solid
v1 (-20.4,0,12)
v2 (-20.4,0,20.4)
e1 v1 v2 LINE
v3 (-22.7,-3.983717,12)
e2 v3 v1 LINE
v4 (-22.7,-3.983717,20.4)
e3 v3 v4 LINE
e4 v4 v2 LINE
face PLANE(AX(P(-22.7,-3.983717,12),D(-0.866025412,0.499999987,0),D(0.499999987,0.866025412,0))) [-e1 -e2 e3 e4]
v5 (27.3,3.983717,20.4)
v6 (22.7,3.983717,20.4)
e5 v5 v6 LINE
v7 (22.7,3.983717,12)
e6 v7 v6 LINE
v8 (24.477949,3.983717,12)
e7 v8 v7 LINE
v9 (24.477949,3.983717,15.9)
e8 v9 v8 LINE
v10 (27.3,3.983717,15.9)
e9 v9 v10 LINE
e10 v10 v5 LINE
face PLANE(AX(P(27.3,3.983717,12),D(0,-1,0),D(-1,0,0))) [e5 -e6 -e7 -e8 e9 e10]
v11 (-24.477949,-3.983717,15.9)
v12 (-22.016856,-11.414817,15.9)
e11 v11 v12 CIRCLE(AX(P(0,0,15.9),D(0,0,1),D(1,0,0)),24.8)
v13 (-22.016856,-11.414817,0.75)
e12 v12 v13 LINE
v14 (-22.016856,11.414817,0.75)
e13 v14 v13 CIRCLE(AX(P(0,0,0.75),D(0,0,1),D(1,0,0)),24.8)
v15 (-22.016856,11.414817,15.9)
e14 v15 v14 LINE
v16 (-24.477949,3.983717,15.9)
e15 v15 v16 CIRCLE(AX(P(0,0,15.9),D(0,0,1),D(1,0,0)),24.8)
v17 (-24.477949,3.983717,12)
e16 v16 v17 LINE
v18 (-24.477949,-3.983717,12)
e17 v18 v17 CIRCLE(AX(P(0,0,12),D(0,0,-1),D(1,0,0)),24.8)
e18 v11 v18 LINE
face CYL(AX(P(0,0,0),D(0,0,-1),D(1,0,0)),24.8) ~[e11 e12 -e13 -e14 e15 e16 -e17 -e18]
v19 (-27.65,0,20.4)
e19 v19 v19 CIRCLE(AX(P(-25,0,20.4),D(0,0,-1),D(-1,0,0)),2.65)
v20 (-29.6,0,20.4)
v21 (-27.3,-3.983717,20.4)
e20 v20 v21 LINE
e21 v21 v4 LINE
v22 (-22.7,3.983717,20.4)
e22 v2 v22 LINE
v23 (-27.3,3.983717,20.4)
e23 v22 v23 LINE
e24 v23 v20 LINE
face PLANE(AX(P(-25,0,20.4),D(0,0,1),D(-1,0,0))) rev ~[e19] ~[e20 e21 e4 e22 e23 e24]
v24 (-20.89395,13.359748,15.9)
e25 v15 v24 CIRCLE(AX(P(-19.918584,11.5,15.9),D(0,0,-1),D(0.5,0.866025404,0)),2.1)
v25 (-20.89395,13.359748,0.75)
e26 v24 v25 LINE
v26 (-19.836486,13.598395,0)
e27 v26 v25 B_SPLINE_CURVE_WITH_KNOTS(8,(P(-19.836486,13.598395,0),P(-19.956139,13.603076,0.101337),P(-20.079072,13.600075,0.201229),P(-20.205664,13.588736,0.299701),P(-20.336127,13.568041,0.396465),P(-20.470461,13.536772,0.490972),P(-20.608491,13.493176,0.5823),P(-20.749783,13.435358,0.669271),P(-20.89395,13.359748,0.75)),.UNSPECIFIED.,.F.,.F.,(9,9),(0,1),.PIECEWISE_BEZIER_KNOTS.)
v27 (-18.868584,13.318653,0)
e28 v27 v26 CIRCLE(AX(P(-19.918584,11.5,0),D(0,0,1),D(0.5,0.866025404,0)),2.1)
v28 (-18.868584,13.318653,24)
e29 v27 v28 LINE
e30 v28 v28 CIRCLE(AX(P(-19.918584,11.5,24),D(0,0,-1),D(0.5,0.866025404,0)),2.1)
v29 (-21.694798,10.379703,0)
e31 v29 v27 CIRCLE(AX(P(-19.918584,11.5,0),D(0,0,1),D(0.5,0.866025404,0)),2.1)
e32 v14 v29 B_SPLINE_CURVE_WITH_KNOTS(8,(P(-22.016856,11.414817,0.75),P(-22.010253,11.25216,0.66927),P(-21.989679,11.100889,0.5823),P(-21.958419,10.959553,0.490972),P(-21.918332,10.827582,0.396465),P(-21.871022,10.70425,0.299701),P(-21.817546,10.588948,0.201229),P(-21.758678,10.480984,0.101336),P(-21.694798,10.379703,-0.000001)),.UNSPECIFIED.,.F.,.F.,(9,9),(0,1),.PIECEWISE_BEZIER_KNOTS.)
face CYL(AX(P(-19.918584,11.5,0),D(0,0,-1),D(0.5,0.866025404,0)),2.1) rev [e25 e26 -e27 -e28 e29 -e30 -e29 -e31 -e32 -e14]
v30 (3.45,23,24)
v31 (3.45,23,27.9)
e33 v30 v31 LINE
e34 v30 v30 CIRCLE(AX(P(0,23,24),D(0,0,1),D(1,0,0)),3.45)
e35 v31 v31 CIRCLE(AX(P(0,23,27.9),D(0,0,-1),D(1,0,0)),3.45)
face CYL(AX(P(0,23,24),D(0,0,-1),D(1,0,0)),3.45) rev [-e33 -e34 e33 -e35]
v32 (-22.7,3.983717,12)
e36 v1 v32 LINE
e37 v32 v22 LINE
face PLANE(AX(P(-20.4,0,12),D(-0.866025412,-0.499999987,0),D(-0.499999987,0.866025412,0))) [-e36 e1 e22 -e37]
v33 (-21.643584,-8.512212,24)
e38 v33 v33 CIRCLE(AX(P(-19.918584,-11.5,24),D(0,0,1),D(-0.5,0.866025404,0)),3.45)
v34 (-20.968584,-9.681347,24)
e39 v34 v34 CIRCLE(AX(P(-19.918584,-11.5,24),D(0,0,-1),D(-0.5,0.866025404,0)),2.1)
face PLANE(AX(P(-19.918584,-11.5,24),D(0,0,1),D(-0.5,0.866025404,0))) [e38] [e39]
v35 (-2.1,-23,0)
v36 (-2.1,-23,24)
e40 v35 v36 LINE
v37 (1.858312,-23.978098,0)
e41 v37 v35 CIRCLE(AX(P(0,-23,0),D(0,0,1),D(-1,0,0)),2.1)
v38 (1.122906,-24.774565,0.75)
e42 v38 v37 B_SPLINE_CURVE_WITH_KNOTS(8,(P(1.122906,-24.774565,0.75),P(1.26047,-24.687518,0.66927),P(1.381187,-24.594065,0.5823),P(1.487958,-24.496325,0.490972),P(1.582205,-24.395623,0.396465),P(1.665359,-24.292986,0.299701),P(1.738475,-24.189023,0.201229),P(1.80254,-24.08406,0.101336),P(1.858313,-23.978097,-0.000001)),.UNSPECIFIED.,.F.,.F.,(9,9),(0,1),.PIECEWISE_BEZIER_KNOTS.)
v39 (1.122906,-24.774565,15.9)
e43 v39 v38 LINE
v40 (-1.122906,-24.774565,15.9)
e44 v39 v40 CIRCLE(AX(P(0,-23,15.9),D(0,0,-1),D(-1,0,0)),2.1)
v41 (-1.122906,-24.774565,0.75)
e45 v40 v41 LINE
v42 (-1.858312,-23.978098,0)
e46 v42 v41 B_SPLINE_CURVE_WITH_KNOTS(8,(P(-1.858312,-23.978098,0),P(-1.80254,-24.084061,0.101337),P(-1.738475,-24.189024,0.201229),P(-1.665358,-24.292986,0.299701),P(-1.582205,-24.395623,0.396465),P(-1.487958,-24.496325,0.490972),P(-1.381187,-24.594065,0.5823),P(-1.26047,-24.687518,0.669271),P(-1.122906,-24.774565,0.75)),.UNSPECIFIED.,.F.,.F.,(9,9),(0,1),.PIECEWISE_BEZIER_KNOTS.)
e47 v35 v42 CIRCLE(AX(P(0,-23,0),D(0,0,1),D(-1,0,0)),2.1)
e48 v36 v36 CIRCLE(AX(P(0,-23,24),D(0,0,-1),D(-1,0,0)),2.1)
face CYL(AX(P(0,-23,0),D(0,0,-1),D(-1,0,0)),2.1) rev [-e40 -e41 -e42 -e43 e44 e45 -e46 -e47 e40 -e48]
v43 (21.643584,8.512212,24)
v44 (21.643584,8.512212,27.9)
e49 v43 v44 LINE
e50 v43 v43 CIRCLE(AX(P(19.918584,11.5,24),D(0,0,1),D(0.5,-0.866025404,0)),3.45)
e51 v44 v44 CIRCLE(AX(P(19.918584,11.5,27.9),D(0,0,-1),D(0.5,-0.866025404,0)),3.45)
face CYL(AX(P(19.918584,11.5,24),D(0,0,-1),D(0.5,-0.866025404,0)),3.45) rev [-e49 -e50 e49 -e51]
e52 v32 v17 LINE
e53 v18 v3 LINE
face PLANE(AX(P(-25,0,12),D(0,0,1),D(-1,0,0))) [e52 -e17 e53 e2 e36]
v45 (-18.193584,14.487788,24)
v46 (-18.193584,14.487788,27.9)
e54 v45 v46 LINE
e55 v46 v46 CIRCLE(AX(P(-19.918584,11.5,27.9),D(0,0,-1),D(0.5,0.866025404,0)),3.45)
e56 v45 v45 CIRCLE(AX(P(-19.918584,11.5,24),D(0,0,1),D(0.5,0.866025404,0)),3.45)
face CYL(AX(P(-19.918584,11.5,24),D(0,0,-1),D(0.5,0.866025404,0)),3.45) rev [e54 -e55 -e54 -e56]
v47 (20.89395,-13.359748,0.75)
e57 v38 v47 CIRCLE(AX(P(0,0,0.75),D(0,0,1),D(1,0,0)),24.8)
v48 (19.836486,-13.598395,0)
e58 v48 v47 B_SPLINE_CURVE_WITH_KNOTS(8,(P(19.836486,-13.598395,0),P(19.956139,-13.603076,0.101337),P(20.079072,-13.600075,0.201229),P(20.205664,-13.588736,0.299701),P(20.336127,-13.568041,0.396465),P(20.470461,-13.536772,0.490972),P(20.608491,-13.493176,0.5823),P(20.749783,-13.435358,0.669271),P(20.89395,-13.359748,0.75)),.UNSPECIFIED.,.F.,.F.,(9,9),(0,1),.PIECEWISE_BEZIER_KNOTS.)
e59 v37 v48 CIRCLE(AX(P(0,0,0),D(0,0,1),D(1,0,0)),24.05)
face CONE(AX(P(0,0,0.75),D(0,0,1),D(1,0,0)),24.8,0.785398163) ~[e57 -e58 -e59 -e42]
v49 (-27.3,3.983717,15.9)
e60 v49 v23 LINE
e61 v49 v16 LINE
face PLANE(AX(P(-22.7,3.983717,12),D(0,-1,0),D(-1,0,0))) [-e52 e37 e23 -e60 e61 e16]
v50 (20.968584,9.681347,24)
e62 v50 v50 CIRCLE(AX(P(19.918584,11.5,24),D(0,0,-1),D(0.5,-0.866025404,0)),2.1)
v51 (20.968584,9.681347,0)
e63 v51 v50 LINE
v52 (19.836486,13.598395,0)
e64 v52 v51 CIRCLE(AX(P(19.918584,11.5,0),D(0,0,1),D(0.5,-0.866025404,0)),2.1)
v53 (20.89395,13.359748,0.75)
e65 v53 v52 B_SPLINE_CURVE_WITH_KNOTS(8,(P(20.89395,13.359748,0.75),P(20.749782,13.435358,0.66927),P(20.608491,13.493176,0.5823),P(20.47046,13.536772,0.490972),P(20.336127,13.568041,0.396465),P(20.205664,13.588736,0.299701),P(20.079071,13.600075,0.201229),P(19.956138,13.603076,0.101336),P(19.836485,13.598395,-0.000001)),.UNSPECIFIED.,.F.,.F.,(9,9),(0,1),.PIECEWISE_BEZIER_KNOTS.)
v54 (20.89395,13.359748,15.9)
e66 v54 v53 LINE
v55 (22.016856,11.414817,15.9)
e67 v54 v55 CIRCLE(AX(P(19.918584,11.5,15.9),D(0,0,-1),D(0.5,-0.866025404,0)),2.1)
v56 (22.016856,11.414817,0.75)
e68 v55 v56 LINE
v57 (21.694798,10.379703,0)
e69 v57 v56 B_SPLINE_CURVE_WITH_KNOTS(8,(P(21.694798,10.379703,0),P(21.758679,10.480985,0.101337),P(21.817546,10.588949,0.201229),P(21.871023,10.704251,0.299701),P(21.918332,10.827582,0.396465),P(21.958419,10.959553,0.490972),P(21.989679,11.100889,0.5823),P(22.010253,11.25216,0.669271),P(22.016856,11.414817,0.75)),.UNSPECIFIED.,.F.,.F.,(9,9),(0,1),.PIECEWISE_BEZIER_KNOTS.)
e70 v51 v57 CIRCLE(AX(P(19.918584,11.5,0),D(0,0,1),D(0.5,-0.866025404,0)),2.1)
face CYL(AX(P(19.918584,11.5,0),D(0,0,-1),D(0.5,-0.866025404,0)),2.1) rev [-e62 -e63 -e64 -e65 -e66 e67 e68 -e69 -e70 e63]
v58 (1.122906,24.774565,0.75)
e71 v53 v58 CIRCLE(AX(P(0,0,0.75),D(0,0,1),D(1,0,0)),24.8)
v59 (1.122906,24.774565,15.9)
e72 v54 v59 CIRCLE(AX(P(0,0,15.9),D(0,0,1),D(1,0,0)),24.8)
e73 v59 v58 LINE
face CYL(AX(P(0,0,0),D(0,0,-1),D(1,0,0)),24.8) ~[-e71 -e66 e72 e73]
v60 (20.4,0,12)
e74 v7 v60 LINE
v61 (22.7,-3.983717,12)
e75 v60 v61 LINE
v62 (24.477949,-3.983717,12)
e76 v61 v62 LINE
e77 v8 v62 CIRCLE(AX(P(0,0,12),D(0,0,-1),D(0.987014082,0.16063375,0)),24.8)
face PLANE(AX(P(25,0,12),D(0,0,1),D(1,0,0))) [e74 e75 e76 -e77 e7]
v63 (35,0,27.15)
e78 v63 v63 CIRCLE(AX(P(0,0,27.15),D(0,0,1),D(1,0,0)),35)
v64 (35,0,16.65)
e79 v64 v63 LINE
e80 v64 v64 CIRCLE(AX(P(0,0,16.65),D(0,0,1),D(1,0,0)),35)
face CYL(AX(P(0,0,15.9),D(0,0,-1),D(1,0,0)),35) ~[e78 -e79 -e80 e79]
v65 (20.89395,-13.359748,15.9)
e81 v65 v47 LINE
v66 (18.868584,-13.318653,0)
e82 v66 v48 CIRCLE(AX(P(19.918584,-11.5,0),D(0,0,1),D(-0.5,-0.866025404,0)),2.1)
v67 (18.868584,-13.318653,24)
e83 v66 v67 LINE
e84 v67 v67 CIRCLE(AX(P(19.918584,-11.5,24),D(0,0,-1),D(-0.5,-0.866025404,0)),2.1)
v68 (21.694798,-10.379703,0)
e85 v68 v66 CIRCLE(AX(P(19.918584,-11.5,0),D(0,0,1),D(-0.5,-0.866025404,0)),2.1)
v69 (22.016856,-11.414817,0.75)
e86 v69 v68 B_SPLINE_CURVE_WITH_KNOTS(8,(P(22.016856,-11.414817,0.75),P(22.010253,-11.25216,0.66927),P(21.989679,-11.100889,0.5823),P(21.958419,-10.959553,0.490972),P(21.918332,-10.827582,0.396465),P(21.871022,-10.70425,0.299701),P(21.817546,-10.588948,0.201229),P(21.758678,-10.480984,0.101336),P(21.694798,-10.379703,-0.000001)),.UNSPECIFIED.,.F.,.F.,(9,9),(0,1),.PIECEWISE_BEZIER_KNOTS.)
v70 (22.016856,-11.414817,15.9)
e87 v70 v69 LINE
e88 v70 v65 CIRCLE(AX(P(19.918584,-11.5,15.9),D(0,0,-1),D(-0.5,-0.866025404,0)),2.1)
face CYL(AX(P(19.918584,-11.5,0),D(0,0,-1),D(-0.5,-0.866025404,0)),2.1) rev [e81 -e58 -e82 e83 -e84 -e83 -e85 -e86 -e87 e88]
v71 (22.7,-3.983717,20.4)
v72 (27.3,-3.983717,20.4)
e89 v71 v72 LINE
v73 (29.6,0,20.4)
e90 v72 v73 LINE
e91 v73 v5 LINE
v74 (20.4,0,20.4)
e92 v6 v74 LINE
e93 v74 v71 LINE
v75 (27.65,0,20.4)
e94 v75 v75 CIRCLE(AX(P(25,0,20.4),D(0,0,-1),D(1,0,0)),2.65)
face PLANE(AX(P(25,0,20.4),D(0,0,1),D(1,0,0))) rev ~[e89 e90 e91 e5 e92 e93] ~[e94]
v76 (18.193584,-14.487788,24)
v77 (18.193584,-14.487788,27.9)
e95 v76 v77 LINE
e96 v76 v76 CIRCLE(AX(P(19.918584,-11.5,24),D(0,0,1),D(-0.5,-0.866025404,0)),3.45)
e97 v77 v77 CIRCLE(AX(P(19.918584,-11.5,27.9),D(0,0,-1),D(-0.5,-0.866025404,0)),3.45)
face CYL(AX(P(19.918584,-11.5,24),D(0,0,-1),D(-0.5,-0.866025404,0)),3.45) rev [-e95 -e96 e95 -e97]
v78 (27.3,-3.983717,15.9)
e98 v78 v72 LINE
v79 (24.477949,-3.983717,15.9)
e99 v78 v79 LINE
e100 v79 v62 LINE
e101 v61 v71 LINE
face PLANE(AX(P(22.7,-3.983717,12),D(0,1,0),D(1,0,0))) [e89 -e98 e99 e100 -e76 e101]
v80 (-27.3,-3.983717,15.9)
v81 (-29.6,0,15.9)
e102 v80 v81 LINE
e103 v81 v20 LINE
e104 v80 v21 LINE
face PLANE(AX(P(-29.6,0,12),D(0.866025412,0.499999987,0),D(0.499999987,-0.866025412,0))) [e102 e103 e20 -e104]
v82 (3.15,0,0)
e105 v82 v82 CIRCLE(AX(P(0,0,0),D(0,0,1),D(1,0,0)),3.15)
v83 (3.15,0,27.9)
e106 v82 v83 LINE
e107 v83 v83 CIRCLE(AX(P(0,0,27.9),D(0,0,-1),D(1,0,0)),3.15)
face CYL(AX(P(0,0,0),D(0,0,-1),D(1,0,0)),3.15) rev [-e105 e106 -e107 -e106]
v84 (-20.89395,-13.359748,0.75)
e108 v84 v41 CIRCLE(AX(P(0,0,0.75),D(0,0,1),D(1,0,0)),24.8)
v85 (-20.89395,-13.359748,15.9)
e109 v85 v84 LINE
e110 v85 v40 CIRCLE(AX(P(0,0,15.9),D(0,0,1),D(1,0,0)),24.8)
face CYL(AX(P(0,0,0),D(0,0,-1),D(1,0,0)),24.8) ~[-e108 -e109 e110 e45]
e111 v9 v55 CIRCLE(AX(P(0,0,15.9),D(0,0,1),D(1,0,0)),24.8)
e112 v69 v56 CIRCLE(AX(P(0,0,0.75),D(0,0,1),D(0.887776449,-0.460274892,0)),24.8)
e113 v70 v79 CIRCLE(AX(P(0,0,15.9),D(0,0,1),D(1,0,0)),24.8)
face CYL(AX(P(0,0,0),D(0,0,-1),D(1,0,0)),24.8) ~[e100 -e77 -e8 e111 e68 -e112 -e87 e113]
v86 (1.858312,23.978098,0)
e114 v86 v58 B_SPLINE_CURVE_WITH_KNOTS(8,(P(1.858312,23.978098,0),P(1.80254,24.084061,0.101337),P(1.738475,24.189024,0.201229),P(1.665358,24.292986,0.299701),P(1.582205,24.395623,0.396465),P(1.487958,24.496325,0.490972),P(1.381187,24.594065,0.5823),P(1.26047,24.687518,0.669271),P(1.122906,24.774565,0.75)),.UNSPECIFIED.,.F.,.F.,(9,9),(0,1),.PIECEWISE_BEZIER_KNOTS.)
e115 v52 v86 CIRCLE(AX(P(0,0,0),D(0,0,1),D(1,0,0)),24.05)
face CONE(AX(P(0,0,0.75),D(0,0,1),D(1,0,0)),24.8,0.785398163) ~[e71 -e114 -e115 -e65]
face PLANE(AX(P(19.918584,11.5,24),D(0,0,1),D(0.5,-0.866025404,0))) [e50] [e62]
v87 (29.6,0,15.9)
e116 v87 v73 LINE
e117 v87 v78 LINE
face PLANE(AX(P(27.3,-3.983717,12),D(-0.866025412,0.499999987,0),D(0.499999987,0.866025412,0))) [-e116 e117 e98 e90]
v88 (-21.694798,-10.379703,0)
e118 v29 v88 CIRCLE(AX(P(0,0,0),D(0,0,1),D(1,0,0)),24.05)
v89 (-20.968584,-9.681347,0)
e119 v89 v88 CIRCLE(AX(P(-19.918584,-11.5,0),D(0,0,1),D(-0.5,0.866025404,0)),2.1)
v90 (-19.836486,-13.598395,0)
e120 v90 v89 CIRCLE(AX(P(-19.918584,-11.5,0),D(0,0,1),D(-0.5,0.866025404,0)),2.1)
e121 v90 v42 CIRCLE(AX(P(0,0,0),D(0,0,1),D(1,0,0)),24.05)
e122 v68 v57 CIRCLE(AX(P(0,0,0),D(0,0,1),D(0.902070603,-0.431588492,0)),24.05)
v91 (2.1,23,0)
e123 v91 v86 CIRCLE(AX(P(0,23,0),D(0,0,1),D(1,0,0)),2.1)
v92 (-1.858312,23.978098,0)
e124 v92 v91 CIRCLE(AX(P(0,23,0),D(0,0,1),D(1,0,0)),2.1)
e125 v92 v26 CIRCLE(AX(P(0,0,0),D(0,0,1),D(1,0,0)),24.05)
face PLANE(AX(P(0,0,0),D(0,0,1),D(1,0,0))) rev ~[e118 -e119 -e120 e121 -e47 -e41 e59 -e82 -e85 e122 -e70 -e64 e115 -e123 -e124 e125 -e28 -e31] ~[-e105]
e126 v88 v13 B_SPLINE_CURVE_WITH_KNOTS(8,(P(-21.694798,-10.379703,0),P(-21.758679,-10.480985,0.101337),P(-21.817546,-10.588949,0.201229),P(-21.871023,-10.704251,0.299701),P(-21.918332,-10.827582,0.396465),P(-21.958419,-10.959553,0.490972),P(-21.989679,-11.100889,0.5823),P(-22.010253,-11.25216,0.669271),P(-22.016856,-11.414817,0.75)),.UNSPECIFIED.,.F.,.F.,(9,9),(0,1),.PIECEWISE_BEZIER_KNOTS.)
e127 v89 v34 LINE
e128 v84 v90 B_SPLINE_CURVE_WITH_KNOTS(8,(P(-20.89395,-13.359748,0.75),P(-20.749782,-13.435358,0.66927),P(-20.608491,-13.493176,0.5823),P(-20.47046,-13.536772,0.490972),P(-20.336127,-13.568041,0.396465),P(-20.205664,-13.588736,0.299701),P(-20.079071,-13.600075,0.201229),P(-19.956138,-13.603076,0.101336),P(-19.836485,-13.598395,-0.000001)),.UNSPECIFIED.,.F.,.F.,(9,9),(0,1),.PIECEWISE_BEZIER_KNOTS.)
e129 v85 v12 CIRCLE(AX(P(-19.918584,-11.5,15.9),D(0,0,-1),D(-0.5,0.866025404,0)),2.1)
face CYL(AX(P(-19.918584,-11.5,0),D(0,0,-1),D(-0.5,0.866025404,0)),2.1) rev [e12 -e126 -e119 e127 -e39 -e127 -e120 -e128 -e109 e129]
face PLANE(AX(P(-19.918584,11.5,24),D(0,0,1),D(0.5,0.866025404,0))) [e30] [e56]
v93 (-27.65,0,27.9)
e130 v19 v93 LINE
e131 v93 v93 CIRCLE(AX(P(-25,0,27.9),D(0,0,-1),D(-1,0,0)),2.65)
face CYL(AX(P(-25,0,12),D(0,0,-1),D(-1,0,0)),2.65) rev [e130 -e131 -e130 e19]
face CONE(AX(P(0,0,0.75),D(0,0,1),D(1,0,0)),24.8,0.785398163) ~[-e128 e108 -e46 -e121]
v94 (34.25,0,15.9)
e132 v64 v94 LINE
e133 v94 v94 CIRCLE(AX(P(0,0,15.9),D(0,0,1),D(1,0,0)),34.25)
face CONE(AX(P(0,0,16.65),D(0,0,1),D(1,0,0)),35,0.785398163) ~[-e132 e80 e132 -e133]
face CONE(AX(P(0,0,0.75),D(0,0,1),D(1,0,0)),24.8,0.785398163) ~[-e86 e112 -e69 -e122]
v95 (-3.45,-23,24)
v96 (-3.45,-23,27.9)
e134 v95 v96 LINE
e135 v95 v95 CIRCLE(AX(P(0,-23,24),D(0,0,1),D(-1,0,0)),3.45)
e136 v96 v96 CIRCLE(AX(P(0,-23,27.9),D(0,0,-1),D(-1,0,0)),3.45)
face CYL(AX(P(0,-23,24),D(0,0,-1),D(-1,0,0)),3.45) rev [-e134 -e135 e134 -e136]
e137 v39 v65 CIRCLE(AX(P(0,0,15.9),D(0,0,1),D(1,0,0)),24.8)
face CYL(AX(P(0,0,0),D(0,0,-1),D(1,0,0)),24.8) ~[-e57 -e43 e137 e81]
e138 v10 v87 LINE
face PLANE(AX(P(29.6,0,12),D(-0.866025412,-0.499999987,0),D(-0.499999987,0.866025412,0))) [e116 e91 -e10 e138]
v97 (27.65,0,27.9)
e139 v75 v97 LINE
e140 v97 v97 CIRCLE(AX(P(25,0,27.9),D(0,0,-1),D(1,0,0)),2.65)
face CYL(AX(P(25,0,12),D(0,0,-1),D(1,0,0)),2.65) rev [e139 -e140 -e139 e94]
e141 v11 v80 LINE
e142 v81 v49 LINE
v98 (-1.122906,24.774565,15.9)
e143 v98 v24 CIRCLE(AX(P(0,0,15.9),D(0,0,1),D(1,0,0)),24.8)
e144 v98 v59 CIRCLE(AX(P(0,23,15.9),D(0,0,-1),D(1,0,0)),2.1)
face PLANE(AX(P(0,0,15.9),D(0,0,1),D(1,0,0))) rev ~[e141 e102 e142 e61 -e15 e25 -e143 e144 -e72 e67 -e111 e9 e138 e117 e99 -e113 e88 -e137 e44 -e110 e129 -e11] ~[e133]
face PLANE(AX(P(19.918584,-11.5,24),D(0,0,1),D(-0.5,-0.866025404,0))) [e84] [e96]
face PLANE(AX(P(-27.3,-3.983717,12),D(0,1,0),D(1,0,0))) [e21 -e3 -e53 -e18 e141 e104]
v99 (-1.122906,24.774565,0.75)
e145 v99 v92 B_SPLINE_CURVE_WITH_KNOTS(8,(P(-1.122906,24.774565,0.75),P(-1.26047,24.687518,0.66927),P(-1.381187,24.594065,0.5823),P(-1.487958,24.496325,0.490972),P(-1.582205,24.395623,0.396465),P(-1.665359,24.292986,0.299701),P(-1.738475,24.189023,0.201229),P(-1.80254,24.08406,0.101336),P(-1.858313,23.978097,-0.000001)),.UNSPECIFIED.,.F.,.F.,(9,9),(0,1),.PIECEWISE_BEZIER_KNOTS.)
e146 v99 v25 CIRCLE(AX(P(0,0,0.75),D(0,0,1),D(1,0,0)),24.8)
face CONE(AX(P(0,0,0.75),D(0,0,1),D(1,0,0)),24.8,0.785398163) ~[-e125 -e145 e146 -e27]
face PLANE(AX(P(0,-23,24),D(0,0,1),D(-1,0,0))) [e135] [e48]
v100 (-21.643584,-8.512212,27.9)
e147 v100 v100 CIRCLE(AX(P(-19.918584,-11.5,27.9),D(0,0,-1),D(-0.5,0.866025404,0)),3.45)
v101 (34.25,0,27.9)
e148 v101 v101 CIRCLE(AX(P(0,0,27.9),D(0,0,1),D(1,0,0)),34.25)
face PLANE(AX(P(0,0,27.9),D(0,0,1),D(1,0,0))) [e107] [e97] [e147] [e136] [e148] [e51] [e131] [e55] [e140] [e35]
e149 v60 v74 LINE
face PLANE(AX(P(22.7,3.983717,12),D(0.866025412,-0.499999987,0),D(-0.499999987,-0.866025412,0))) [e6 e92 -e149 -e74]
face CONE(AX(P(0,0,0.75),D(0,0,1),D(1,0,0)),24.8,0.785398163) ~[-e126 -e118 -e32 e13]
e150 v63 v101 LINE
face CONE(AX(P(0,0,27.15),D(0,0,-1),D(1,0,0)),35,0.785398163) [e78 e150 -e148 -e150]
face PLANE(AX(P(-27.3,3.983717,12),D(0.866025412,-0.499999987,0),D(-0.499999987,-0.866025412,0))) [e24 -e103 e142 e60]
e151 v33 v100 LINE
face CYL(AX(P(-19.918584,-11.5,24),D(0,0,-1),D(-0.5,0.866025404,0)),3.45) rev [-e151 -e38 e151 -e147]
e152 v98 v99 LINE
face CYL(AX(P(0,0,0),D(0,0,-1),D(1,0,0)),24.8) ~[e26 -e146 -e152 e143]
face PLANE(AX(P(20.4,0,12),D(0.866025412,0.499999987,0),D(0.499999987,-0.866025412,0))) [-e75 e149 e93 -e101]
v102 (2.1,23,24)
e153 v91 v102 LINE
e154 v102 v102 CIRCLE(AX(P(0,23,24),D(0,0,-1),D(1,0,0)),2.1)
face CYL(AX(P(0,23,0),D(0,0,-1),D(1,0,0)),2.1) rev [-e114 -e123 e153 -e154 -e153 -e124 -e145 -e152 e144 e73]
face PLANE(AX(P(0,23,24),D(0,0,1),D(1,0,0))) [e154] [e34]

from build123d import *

# Parameters (mm, degrees)
CYLINDER014005867_R                      = 3.45
CYLINDER014005867_DEPTH                  = 4.1
CYLINDER014005866_R                      = 2.1
CYLINDER014005866_DEPTH                  = 28
FUSION001089102007_PLACEMENT_ANGLE       = 120
FUSION001089102007002_PLACEMENT_ANGLE    = 120
FUSION001089102007003_PLACEMENT_ANGLE    = 180
FUSION001089102007004_PLACEMENT_ANGLE    = 240
FUSION001089102007005_PLACEMENT_ANGLE    = 60
CYLINDER014005868_R                      = 3.15
CYLINDER014005868_DEPTH                  = 28
PRISM002_DEPTH                           = 8.4
CYLINDER014005869_R                      = 2.65
CYLINDER014005869_DEPTH                  = 28
FUSION001089102007007001_PLACEMENT_ANGLE = 180
FUSION001089102007001_PLACEMENT_ANGLE    = 60
CYLINDER014005865_R                      = 35
CYLINDER014005865_DEPTH                  = 12
CYLINDER014005859_R                      = 24.8
CYLINDER014005859_DEPTH                  = 15.9
CHAMFER011_SIZE                          = 0.75


with BuildPart() as v_lec777:
    # Cylinder014005867 → Cylinder014005867 (new body)
    with BuildSketch(Plane(origin=(0, 23, 24), x_dir=(1, 0, 0), z_dir=(0, 0, 1))):
        Circle(CYLINDER014005867_R)
    extrude(amount=CYLINDER014005867_DEPTH)


with BuildPart() as m4inbus:
    # Cylinder014005866 → Cylinder014005866 (new body)
    with BuildSketch(Plane(origin=(0, 23, 0), x_dir=(1, 0, 0), z_dir=(0, 0, 1))):
        Circle(CYLINDER014005866_R)
    extrude(amount=CYLINDER014005866_DEPTH)

    # Fusion001089102007: union Válec777
    add(v_lec777.part)


with BuildPart() as m4inbus_1:
    # Fusion001089102007 placement: moved
    add(m4inbus.part.rotate(Axis((0, 0, 0), (0, 0, 1)), FUSION001089102007_PLACEMENT_ANGLE))


with BuildPart() as m4inbus002:
    # Fusion001089102007002 base: copy of M4Inbus
    add(m4inbus_1.part)


with BuildPart() as m4inbus002_1:
    # Fusion001089102007002 placement: moved
    add(m4inbus002.part.rotate(Axis((0, 0, 0), (0, 0, 1)), FUSION001089102007002_PLACEMENT_ANGLE))


with BuildPart() as m4inbus003:
    # Fusion001089102007003 base: copy of M4Inbus
    add(m4inbus_1.part)


with BuildPart() as m4inbus003_1:
    # Fusion001089102007003 placement: moved
    add(m4inbus003.part.rotate(Axis((0, 0, 0), (0, 0, 1)), FUSION001089102007003_PLACEMENT_ANGLE))


with BuildPart() as m4inbus004:
    # Fusion001089102007004 base: copy of M4Inbus
    add(m4inbus_1.part)


with BuildPart() as m4inbus004_1:
    # Fusion001089102007004 placement: moved
    add(m4inbus004.part.rotate(Axis((0, 0, 0), (0, 0, 1)), FUSION001089102007004_PLACEMENT_ANGLE))


with BuildPart() as m4inbus005:
    # Fusion001089102007005 base: copy of M4Inbus
    add(m4inbus_1.part)


with BuildPart() as m4inbus005_1:
    # Fusion001089102007005 placement: moved
    add(m4inbus005.part.rotate(Axis((0, 0, 0), (0, 0, -1)), FUSION001089102007005_PLACEMENT_ANGLE))


with BuildPart() as v_lec778:
    # Cylinder014005868 → Cylinder014005868 (new body)
    with BuildSketch(Plane.XY):
        Circle(CYLINDER014005868_R)
    extrude(amount=CYLINDER014005868_DEPTH)


with BuildPart() as m4x002:
    # prism002 → prism002 (new body)
    with BuildSketch(Plane(origin=(25, 0, 12), x_dir=(1, 0, 0), z_dir=(0, 0, 1))):
        Polygon((4.6, 0), (2.3, 3.983717), (-2.3, 3.983717), (-4.6, 0), (-2.3, -3.983717), (2.3, -3.983717), align=None)
    extrude(amount=PRISM002_DEPTH)


with BuildPart() as fusion001089102007007:
    # Cylinder014005869 → Cylinder014005869 (new body)
    with BuildSketch(Plane(origin=(25, 0, 12), x_dir=(1, 0, 0), z_dir=(0, 0, 1))):
        Circle(CYLINDER014005869_R)
    extrude(amount=CYLINDER014005869_DEPTH)

    # Fusion001089102007007: union M4X002
    add(m4x002.part)


with BuildPart() as fusion001089102007007001:
    # Fusion001089102007007001 base: copy of Fusion001089102007007
    add(fusion001089102007007.part)


with BuildPart() as fusion001089102007007001_1:
    # Fusion001089102007007001 placement: moved
    add(fusion001089102007007001.part.rotate(Axis((0, 0, 0), (0, 0, 1)), FUSION001089102007007001_PLACEMENT_ANGLE))


with BuildPart() as fusion001089102007006:
    # Fusion001089102007001 base: copy of M4Inbus
    add(m4inbus_1.part)


with BuildPart() as fusion001089102007006_1:
    # Fusion001089102007001 placement: moved
    add(fusion001089102007006.part.rotate(Axis((0, 0, 0), (0, 0, 1)), FUSION001089102007001_PLACEMENT_ANGLE))

    # Fusion001089102007006: union M4Inbus002, M4Inbus003, M4Inbus004, M4Inbus005, Válec778, M4Inbus, Fusion001089102007007, Fusion001089102007007001
    add(m4inbus002_1.part)
    add(m4inbus003_1.part)
    add(m4inbus004_1.part)
    add(m4inbus005_1.part)
    add(v_lec778.part)
    add(m4inbus_1.part)
    add(fusion001089102007007.part)
    add(fusion001089102007007001_1.part)


with BuildPart() as h005:
    # Cylinder014005865 → Cylinder014005865 (new body)
    with BuildSketch(Plane.XY.offset(15.9)):
        Circle(CYLINDER014005865_R)
    extrude(amount=CYLINDER014005865_DEPTH)


with BuildPart() as outb:
    # Cylinder014005859 → Cylinder014005859 (new body)
    with BuildSketch(Plane.XY):
        Circle(CYLINDER014005859_R)
    extrude(amount=CYLINDER014005859_DEPTH)

    # Fusion001089102008: union H005
    add(h005.part)

    # Chamfer011
    chamfer011_edges = [outb.edges().sort_by_distance(p)[0] for p in [
        (-35, 0, 27.9),
        (-35, 0, 15.9),
        (-24.8, 0, 0),
    ]]
    chamfer(chamfer011_edges, length=CHAMFER011_SIZE)

    # Cut009003003009002: cut Fusion001089102007006
    add(fusion001089102007006_1.part, mode=Mode.SUBTRACT)


solid = outb.part
